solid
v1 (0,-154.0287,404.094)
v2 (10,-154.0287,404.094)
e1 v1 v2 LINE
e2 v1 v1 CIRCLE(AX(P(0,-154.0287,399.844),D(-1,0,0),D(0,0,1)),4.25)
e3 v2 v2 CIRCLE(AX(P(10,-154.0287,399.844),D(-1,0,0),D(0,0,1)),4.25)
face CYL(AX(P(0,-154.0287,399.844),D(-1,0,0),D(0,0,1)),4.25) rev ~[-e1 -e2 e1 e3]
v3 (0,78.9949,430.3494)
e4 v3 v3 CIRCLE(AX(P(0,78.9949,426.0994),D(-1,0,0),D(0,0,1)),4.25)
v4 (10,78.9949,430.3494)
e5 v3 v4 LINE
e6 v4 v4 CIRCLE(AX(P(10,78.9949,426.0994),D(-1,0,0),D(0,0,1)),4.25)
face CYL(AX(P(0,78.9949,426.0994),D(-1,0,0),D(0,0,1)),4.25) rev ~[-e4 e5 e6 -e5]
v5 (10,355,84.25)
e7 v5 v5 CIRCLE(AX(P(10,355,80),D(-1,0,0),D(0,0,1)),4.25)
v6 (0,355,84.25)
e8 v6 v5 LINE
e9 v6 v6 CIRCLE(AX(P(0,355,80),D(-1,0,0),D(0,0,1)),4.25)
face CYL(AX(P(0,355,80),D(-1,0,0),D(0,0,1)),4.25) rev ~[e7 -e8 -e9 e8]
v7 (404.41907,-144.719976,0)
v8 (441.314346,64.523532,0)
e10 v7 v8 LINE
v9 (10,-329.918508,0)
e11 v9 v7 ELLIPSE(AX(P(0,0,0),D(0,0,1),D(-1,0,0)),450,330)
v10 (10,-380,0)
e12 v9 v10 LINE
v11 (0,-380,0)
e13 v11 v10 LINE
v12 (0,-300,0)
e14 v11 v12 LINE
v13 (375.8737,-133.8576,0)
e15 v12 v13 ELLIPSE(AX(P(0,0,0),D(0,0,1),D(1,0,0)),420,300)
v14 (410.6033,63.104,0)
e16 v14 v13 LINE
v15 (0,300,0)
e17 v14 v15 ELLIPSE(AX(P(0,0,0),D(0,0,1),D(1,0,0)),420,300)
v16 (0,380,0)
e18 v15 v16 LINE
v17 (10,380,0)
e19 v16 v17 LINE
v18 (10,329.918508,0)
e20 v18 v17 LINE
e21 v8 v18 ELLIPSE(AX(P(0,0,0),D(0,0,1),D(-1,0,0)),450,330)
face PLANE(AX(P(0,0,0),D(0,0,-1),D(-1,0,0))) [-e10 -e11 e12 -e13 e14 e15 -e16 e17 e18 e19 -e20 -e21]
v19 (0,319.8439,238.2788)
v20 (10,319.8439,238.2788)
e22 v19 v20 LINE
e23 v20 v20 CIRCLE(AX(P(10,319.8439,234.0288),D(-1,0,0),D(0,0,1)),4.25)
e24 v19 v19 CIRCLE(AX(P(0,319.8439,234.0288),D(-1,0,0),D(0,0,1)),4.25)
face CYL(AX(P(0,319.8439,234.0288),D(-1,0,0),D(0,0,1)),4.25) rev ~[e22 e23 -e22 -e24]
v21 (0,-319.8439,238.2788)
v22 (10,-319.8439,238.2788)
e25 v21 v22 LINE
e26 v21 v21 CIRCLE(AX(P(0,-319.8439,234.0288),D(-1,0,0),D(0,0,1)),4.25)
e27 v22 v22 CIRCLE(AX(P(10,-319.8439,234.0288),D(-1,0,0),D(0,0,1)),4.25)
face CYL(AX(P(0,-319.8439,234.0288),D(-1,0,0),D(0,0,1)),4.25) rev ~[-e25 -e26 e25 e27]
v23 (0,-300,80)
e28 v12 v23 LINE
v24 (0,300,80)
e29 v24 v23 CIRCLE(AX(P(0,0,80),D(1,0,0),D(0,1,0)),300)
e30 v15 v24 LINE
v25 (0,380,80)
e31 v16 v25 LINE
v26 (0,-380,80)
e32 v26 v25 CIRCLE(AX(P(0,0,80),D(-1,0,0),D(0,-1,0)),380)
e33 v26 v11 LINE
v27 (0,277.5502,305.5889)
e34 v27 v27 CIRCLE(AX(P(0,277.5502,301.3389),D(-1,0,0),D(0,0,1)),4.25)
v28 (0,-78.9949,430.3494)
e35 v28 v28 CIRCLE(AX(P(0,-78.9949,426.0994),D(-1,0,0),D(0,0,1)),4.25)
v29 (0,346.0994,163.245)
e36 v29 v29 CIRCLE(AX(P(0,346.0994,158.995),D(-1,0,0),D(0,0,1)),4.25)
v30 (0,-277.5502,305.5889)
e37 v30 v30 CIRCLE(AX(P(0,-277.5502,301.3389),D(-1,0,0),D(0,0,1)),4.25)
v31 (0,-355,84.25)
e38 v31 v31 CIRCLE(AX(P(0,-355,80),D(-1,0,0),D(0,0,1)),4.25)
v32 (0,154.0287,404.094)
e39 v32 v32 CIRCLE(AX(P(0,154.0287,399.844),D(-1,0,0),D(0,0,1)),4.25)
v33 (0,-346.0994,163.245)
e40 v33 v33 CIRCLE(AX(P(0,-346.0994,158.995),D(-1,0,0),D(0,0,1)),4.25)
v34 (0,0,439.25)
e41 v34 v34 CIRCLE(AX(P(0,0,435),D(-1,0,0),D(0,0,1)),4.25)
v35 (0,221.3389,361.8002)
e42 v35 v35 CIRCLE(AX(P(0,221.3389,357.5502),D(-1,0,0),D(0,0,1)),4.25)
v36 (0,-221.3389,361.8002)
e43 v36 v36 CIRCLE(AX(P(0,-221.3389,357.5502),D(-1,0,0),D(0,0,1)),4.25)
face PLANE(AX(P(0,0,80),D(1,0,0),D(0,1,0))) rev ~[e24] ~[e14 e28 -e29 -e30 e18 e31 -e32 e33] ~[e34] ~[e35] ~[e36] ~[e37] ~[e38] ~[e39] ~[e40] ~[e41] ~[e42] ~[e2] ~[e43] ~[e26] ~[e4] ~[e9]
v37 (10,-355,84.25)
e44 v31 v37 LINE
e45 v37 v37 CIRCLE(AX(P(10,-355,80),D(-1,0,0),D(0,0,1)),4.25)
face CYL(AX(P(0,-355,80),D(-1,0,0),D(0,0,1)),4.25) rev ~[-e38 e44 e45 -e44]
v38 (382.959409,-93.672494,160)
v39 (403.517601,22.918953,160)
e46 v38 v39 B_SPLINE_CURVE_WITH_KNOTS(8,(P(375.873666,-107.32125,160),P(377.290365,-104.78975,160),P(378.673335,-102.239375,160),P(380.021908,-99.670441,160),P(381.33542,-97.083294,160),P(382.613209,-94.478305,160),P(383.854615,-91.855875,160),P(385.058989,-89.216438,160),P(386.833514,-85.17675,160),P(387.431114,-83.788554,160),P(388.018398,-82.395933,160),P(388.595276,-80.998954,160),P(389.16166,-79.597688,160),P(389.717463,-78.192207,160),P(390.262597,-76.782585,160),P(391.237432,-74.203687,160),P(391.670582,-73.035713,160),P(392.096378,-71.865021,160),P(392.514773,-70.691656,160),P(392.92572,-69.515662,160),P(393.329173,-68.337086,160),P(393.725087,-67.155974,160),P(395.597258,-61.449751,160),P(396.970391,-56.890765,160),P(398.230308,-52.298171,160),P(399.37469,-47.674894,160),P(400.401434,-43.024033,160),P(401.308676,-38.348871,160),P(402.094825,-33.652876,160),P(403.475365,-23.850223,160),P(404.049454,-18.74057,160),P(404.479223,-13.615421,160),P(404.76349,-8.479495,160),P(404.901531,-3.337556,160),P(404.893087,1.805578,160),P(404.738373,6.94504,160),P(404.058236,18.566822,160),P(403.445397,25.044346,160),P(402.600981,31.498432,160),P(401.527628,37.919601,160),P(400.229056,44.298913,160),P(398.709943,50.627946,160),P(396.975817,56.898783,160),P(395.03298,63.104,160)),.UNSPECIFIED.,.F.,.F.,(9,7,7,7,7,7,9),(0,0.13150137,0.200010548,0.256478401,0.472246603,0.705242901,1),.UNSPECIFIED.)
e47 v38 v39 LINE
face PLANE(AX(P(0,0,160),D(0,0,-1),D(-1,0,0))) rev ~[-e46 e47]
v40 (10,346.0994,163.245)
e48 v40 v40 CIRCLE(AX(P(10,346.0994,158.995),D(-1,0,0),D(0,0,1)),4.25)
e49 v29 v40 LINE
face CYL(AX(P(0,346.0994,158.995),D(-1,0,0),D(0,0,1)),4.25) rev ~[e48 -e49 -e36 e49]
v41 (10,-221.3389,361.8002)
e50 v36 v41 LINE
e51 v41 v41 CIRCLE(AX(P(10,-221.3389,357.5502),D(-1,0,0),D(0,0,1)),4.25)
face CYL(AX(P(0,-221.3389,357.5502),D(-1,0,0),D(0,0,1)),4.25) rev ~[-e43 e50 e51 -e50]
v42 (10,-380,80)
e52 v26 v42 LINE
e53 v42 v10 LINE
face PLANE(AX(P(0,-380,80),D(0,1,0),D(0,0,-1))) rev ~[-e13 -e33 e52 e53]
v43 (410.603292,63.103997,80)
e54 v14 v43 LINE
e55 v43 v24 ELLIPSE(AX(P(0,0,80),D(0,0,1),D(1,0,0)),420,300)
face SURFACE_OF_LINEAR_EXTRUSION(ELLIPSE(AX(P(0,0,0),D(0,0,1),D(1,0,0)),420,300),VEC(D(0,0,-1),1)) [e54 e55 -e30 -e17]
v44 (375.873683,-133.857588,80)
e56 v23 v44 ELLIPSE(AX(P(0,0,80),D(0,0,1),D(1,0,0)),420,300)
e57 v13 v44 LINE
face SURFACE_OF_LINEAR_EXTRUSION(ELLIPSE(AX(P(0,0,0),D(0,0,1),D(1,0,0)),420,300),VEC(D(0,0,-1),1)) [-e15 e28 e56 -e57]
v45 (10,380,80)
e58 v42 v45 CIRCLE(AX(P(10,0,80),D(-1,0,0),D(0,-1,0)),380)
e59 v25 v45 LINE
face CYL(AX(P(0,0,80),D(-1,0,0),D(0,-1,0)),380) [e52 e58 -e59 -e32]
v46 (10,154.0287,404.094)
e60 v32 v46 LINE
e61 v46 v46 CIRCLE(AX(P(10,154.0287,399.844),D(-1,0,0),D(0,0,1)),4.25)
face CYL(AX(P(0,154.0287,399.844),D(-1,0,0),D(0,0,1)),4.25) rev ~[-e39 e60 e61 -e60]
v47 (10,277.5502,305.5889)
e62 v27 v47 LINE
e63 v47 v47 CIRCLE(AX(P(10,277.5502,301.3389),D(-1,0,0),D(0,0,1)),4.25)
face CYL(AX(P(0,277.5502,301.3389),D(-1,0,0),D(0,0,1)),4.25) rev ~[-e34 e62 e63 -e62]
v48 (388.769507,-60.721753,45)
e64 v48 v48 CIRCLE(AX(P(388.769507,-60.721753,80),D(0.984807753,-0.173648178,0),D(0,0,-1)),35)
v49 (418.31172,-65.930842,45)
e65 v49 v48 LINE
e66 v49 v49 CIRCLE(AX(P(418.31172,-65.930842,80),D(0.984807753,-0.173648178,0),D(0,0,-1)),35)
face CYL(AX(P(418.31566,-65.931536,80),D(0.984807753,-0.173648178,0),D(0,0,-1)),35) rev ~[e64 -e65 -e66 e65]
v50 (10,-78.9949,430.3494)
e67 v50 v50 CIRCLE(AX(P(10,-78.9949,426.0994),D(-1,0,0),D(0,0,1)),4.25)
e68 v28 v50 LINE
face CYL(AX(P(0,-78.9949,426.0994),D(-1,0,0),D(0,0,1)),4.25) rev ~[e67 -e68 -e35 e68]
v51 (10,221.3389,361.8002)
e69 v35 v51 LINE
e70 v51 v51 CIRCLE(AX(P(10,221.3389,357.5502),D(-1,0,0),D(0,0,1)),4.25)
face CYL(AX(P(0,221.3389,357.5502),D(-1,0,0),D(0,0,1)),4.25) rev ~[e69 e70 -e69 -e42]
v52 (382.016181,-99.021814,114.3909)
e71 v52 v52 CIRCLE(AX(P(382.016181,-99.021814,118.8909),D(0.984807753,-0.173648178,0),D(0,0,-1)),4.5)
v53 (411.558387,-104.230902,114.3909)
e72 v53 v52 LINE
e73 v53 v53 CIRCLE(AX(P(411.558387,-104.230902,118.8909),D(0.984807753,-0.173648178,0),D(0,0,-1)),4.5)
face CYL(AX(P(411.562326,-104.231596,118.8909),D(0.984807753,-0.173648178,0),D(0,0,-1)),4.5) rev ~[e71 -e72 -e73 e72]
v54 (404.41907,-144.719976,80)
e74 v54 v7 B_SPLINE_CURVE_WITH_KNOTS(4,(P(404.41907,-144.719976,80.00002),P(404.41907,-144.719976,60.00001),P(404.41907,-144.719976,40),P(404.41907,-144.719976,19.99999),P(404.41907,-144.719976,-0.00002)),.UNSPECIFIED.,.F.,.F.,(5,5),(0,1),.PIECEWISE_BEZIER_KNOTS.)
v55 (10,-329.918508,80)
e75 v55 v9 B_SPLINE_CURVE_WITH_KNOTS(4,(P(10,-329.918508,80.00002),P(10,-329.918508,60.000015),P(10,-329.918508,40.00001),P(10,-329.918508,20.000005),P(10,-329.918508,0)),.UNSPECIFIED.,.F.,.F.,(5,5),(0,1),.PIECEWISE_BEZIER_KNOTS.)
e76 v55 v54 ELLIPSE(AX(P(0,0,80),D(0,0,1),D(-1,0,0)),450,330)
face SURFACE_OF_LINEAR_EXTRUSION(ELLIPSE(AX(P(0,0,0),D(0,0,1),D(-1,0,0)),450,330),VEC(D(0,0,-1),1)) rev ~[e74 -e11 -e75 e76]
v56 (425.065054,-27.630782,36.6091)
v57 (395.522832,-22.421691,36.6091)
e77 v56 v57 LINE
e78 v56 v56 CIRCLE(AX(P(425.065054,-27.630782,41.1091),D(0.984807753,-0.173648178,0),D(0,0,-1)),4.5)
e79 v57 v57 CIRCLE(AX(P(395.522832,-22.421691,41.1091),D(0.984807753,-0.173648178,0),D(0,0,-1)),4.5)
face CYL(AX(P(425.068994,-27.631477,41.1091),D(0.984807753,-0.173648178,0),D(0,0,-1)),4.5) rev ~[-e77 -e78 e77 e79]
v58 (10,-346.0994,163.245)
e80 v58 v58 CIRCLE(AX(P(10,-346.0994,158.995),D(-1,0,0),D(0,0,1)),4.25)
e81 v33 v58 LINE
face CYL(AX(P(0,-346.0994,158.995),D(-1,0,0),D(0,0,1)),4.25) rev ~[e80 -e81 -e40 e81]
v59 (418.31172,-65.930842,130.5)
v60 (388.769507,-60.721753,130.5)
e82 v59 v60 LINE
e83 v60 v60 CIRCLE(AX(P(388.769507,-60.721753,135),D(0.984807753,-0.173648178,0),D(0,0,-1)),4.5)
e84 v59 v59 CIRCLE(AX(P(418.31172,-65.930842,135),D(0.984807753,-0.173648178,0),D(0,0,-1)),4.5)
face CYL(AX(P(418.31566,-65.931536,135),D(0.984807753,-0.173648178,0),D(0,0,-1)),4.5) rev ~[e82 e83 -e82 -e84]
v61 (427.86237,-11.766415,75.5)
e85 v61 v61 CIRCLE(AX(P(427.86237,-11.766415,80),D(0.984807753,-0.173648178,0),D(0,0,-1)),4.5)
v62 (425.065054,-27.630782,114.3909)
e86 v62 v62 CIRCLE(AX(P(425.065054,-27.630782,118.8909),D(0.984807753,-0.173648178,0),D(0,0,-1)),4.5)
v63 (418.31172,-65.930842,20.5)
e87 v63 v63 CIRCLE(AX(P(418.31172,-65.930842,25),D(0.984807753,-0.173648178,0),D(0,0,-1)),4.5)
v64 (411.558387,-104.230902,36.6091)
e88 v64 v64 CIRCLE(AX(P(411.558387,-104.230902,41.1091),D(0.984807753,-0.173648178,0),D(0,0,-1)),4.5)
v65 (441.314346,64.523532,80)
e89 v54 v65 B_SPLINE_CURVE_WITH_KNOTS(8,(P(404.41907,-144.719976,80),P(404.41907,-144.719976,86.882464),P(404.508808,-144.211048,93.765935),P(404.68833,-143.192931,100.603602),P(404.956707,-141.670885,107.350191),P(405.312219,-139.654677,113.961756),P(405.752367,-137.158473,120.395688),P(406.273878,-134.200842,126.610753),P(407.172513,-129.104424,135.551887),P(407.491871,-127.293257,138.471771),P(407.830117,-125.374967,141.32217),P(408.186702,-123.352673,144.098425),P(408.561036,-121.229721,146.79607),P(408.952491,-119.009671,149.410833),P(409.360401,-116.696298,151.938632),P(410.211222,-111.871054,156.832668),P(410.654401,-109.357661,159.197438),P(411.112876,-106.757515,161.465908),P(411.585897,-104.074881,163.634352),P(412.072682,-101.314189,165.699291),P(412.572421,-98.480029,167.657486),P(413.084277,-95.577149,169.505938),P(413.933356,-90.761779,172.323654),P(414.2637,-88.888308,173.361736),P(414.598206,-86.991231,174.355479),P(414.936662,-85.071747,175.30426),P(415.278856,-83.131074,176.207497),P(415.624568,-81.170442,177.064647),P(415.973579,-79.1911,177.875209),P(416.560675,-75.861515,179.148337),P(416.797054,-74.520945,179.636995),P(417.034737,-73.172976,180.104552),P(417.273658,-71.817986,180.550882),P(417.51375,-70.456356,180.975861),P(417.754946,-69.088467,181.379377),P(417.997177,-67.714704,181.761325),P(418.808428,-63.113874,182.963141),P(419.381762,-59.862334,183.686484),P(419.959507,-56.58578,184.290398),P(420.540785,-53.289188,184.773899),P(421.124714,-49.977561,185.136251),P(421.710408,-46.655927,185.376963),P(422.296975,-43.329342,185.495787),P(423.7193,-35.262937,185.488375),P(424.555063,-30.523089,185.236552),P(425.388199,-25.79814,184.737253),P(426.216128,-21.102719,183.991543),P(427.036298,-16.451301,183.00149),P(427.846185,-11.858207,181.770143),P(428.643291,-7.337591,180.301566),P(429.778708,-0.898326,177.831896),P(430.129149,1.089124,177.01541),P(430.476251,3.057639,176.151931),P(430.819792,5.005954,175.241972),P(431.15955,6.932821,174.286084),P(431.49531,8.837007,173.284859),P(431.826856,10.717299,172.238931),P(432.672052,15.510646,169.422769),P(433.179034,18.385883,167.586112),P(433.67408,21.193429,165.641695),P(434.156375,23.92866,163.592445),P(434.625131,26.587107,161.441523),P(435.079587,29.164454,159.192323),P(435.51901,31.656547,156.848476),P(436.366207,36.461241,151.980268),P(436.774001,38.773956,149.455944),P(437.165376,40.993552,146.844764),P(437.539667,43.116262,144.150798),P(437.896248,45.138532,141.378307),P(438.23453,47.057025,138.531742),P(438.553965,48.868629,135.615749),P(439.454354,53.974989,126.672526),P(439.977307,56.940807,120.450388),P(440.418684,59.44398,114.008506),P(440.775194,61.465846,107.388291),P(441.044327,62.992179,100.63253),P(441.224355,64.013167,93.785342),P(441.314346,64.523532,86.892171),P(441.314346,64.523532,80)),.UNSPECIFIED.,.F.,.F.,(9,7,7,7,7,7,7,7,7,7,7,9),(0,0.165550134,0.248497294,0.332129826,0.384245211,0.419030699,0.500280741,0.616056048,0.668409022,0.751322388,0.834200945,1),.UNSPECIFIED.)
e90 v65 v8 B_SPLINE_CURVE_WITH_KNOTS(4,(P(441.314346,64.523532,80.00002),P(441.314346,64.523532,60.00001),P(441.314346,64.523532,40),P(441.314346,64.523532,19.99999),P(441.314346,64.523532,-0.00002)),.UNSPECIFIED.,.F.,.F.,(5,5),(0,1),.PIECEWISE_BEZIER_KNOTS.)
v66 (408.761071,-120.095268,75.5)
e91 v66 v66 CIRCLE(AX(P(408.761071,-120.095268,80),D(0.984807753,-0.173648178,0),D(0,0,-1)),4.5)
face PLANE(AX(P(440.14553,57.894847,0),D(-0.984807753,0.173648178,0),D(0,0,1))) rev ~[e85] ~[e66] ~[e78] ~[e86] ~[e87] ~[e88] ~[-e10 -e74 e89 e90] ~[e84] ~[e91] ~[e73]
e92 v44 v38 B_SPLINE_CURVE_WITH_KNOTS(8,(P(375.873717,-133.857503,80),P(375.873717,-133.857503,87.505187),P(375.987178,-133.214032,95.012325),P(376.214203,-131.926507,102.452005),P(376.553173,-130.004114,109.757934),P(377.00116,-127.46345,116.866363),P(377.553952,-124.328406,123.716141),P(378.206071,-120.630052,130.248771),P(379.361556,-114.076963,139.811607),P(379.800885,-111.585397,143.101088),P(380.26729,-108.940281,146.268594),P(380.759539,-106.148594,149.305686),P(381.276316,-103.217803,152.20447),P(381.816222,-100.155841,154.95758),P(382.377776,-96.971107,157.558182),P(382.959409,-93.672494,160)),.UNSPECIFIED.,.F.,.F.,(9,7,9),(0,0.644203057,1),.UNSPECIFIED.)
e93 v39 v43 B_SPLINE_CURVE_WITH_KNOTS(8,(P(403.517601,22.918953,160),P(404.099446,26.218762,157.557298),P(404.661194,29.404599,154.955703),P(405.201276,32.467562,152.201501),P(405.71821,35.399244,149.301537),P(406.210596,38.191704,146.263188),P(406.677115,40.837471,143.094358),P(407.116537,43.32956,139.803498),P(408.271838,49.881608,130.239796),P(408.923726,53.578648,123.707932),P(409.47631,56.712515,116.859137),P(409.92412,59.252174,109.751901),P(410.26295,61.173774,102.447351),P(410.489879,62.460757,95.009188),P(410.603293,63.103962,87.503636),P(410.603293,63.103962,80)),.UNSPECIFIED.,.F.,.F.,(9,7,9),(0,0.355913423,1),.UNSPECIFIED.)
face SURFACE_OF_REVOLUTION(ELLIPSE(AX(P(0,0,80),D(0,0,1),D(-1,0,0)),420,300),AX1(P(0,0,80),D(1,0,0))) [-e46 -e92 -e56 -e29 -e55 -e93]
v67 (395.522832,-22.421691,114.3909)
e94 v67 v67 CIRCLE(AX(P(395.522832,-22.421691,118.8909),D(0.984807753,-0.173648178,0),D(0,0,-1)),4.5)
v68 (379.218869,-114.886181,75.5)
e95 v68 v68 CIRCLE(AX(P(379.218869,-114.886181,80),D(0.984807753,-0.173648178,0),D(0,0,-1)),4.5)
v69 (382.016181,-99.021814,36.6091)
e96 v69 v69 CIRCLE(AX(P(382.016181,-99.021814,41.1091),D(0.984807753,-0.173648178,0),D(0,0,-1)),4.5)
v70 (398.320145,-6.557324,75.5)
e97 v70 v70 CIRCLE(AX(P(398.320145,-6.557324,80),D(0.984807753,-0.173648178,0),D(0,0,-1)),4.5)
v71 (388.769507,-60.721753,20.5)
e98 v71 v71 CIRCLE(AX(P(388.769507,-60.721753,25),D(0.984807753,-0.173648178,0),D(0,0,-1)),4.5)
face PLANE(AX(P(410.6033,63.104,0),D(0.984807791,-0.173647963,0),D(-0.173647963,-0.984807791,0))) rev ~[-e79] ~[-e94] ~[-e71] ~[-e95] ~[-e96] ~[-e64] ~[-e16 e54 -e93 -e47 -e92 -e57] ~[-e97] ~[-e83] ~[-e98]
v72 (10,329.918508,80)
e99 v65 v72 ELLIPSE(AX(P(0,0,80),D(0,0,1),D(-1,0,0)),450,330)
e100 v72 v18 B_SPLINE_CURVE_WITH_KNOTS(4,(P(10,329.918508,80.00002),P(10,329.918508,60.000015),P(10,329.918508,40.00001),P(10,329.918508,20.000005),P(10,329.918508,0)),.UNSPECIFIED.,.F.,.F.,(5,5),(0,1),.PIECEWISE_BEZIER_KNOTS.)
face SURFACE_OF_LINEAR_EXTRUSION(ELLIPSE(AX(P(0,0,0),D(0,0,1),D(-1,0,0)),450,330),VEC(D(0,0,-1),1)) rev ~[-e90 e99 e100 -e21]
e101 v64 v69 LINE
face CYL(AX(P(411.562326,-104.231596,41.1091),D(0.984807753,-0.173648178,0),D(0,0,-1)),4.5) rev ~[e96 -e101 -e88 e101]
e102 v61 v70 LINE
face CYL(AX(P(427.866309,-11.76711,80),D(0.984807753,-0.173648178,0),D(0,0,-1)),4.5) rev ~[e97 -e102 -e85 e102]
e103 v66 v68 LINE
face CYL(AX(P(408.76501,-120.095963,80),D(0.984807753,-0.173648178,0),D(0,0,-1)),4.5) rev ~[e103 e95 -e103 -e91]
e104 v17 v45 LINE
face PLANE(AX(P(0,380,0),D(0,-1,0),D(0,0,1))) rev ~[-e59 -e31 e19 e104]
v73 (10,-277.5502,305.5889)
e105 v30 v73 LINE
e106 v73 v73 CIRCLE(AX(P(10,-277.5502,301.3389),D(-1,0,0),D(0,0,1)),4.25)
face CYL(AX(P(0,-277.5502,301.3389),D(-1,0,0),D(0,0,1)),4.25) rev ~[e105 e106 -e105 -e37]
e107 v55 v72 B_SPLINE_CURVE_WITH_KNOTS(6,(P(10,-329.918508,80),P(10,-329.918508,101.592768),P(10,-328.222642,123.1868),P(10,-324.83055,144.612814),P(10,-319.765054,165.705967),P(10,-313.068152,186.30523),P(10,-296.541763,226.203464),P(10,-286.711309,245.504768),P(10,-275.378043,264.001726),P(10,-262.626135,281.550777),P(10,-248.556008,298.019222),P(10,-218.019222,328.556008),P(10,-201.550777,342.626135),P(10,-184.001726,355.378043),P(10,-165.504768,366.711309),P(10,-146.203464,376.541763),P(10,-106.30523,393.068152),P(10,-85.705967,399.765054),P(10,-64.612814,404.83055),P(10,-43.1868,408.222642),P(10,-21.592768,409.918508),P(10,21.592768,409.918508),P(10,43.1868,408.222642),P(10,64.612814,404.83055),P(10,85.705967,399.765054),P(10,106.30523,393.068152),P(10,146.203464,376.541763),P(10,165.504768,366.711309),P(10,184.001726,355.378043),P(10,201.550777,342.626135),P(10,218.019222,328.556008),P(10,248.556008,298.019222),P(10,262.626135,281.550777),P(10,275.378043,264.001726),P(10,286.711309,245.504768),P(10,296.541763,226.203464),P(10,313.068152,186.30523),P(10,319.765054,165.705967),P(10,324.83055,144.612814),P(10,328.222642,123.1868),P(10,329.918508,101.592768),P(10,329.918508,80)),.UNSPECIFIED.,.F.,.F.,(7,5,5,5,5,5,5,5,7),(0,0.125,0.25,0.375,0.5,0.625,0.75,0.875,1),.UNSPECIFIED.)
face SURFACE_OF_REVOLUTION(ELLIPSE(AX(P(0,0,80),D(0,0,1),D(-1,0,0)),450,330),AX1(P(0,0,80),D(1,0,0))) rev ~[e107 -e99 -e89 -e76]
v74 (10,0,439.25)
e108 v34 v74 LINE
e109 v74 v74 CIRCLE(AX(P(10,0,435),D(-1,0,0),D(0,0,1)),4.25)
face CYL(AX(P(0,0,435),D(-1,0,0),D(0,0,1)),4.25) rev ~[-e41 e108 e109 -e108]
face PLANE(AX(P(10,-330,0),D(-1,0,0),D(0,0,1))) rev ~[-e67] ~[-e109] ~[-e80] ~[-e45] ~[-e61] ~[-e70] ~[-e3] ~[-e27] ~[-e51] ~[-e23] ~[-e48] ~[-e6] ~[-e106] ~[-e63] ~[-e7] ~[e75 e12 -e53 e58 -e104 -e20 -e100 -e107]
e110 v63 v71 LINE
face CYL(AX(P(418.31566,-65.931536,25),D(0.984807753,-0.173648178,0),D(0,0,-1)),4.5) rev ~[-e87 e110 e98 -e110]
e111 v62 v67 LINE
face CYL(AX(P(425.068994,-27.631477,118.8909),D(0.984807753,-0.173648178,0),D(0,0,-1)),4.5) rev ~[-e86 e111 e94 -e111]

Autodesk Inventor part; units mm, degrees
ref_plane "YZ Plane" through (0, 0, 0) normal (1, 0, 0) x (0, 1, 0)
ref_plane "XZ Plane" through (0, 0, 0) normal (0, 1, 0) x (-1, 0, 0)
sketch "Sketch1" plane through (0, 0, 0) normal (0, 0, 1) x (1, 0, 0)
  ellipse E0 centre (0, 0) end of major axis (0, 330) minor radius 450 (0, -330) -> (0, 330) ccw
  ellipse E1 centre (0, 0) end of major axis (420, 0) minor radius 300 (0, -300) -> (0, 300) ccw
  line L0 (0, 300) -> (0, 330)
  line L1 (0, -300) -> (0, -330)
  line L2 (420, 0) -> (450, 0)
  dimension "d0" = 420
  dimension "d1" = 450
  dimension "d2" = 300
  dimension "d3" = 330
extrude "Extrusion1" add sketch "Sketch1" along normal blind 80
sketch "Sketch2" plane through (0, 0, 80) normal (0, 0, 1) x (1, 0, 0)
  line L0 (0, 0) -> (451.5059, 0)
  ellipse E0 centre (0, 0) end of major axis (-450, 0) minor radius 330 (0, -330) -> (0, 330) ccw projected
  line L1 (0, 330) -> (0, 300) projected
  ellipse E1 centre (0, 0) end of major axis (-420, 0) minor radius 300 (0, -300) -> (0, 300) ccw projected
  line L2 (0, -300) -> (0, -330) projected
  point P0 (420, 0)
  point P1 (450, 0)
revolve "Revolution1" add sketch "Sketch2" angle 180 about axis through (0, 0, 80) along (1, 0, 0) contours E1 L1 E0 L0
sketch "Sketch3" plane through (0, 0, 0) normal (0, 0, -1) x (-1, 0, 0)
  ellipse E0 centre (0, 0) end of major axis (420, 0) minor radius 300 (0, 300) -> (0, -300) ccw projected
  line L0 (-410.6033, 63.104) -> (-375.8737, -133.8576)
  line L1 (-375.8737, -133.8576) -> (-428.5073, -143.1383)
  line L2 (-428.5073, -143.1383) -> (-456.291, 14.4309)
  line L3 (0, 300) -> (0, -300) projected
  ellipse E1 centre (0, 0) end of major axis (450, 0) minor radius 330 (0, 330) -> (0, -330) ccw projected
  line L4 (-456.291, 14.4309) -> (-439.6592, 70.3382)
  line L5 (-428.5073, -143.1383) -> (-336.4493, -219.1451)
  line L6 (-336.4493, -219.1451) -> (-375.8737, -133.8576)
  line L7 (-410.6033, 63.104) -> (-439.6592, 70.3382)
  line L8 (-393.2385, -35.3768) -> (260.9914, 90.2506)
  line L9 (260.9914, 90.2506) -> (260.9914, 44.7879)
  line L10 (260.9914, 44.7879) -> (0, 40.1342)
  dimension "d8" = 200
  dimension "d9" = 10
  dimension "d12" = 45.4627
  dimension "d13" = 160
extrude "Extrusion2" add sketch "Sketch3" against normal blind 160 contours L0 E0
ref_plane "Work Plane1" through (440.1475, 57.8945, 0) normal (-0.9848, 0.1736, 0) x (0, 0, 1)
sketch "Sketch5" plane through (440.1475, 57.8945, 0) normal (-0.9848, 0.1736, 0) x (0, 0, 1)
  line L0 (80, -458.4323) -> (80, -55.3041) projected
  circle A0 centre (80, -117.2866) radius 241.1725
  point P0 (0, -133.4458)
extrude "Extrusion4" cut sketch "Sketch5" against normal blind 160
sketch "Sketch6" plane through (0, -330, 0) normal (-1, 0, 0) x (0, 0, 1)
  line L0 (0, 30) -> (0, 0) projected
  line L1 (0, 0) -> (80, 0) projected
  arc A0 (80, 0) -> (80, 660) centre (80, 330) ccw projected
  line L2 (0, 660) -> (80, 660) projected
  line L3 (0, 660) -> (0, 630) projected
  line L4 (0, 630) -> (80, 630) projected
  arc A1 (80, 30) -> (80, 630) centre (80, 330) ccw projected
  line L5 (0, 30) -> (80, 30) projected
  arc A2 (80, -50) -> (80, 710) centre (80, 330) ccw
  line L6 (80, -50) -> (-50, -50)
  line L7 (-50, -50) -> (-50, 80)
  line L8 (-50, 80) -> (80, 80)
  arc A3 (80, 80) -> (80, 580) centre (80, 330) ccw
  line L9 (80, 580) -> (-50, 580)
  line L10 (-50, 580) -> (-50, 710)
  line L11 (-50, 710) -> (80, 710)
  line L12 (0, 660) -> (0, 710)
  line L13 (0, 0) -> (0, -50)
  line L14 (80, 330) -> (410, 330)
  circle A4 centre (435, 330) radius 4.25
  circle A5 centre (426.0994, 408.9949) radius 4.25
  circle A6 centre (399.844, 484.0287) radius 4.25
  circle A7 centre (357.5502, 551.3389) radius 4.25
  circle A8 centre (301.3389, 607.5502) radius 4.25
  circle A9 centre (234.0288, 649.8439) radius 4.25
  circle A10 centre (158.995, 676.0994) radius 4.25
  circle A11 centre (80, 685) radius 4.25
  circle A12 centre (435, 330) radius 4.25
  circle A13 centre (426.0994, 251.0051) radius 4.25
  circle A14 centre (399.844, 175.9713) radius 4.25
  circle A15 centre (357.5502, 108.6611) radius 4.25
  circle A16 centre (301.3389, 52.4498) radius 4.25
  circle A17 centre (234.0288, 10.1561) radius 4.25
  circle A18 centre (158.995, -16.0994) radius 4.25
  circle A19 centre (80, -25) radius 4.25
  point P0 (0, 330)
  point P1 (460, 330)
  point P2 (80, -50)
  point P3 (460, 330)
  point P4 (439.25, 330)
  point P5 (430.75, 330)
  dimension "d19" = 50
  dimension "d22" = 8.5
  dimension "d25" = 90
  dimension "d27" = 25
  dimension "d28" = 0
extrude "Extrusion5" add sketch "Sketch6" against normal blind 10 contours L5 A1 L14 A0 L1 L0 | L1 A0 L2 L12 L11 A2 L6 L13 | A1 L4 L3 L2 A0 L14
sketch "Sketch7" plane through (440.1475, 57.8945, 0) normal (0.9848, -0.1736, 0) x (0, 0, -1)
  circle A0 centre (-80, -125.7359) radius 35
  circle A1 centre (-80, -70.7359) radius 4.5
  circle A2 centre (-118.8909, -86.845) radius 4.5
  circle A3 centre (-135, -125.7359) radius 4.5
  circle A4 centre (-118.8909, -164.6268) radius 4.5
  circle A5 centre (-80, -180.7359) radius 4.5
  circle A6 centre (-41.1091, -164.6268) radius 4.5
  circle A7 centre (-25, -125.7359) radius 4.5
  circle A8 centre (-41.1091, -86.845) radius 4.5
  point P0 (-80, -205.7359)
  point P1 (-80, 6.7266)
  dimension "d29" = 70
  dimension "d30" = 9
  dimension "d31" = 55
  dimension "d34" = 360
  dimension "d38" = 80
extrude "Extrusion6" cut sketch "Sketch7" against normal blind 50
equation "\"d27\" = 0.5 * d19"
properties part number "eggshellCorePrinted" material "GFRC"
